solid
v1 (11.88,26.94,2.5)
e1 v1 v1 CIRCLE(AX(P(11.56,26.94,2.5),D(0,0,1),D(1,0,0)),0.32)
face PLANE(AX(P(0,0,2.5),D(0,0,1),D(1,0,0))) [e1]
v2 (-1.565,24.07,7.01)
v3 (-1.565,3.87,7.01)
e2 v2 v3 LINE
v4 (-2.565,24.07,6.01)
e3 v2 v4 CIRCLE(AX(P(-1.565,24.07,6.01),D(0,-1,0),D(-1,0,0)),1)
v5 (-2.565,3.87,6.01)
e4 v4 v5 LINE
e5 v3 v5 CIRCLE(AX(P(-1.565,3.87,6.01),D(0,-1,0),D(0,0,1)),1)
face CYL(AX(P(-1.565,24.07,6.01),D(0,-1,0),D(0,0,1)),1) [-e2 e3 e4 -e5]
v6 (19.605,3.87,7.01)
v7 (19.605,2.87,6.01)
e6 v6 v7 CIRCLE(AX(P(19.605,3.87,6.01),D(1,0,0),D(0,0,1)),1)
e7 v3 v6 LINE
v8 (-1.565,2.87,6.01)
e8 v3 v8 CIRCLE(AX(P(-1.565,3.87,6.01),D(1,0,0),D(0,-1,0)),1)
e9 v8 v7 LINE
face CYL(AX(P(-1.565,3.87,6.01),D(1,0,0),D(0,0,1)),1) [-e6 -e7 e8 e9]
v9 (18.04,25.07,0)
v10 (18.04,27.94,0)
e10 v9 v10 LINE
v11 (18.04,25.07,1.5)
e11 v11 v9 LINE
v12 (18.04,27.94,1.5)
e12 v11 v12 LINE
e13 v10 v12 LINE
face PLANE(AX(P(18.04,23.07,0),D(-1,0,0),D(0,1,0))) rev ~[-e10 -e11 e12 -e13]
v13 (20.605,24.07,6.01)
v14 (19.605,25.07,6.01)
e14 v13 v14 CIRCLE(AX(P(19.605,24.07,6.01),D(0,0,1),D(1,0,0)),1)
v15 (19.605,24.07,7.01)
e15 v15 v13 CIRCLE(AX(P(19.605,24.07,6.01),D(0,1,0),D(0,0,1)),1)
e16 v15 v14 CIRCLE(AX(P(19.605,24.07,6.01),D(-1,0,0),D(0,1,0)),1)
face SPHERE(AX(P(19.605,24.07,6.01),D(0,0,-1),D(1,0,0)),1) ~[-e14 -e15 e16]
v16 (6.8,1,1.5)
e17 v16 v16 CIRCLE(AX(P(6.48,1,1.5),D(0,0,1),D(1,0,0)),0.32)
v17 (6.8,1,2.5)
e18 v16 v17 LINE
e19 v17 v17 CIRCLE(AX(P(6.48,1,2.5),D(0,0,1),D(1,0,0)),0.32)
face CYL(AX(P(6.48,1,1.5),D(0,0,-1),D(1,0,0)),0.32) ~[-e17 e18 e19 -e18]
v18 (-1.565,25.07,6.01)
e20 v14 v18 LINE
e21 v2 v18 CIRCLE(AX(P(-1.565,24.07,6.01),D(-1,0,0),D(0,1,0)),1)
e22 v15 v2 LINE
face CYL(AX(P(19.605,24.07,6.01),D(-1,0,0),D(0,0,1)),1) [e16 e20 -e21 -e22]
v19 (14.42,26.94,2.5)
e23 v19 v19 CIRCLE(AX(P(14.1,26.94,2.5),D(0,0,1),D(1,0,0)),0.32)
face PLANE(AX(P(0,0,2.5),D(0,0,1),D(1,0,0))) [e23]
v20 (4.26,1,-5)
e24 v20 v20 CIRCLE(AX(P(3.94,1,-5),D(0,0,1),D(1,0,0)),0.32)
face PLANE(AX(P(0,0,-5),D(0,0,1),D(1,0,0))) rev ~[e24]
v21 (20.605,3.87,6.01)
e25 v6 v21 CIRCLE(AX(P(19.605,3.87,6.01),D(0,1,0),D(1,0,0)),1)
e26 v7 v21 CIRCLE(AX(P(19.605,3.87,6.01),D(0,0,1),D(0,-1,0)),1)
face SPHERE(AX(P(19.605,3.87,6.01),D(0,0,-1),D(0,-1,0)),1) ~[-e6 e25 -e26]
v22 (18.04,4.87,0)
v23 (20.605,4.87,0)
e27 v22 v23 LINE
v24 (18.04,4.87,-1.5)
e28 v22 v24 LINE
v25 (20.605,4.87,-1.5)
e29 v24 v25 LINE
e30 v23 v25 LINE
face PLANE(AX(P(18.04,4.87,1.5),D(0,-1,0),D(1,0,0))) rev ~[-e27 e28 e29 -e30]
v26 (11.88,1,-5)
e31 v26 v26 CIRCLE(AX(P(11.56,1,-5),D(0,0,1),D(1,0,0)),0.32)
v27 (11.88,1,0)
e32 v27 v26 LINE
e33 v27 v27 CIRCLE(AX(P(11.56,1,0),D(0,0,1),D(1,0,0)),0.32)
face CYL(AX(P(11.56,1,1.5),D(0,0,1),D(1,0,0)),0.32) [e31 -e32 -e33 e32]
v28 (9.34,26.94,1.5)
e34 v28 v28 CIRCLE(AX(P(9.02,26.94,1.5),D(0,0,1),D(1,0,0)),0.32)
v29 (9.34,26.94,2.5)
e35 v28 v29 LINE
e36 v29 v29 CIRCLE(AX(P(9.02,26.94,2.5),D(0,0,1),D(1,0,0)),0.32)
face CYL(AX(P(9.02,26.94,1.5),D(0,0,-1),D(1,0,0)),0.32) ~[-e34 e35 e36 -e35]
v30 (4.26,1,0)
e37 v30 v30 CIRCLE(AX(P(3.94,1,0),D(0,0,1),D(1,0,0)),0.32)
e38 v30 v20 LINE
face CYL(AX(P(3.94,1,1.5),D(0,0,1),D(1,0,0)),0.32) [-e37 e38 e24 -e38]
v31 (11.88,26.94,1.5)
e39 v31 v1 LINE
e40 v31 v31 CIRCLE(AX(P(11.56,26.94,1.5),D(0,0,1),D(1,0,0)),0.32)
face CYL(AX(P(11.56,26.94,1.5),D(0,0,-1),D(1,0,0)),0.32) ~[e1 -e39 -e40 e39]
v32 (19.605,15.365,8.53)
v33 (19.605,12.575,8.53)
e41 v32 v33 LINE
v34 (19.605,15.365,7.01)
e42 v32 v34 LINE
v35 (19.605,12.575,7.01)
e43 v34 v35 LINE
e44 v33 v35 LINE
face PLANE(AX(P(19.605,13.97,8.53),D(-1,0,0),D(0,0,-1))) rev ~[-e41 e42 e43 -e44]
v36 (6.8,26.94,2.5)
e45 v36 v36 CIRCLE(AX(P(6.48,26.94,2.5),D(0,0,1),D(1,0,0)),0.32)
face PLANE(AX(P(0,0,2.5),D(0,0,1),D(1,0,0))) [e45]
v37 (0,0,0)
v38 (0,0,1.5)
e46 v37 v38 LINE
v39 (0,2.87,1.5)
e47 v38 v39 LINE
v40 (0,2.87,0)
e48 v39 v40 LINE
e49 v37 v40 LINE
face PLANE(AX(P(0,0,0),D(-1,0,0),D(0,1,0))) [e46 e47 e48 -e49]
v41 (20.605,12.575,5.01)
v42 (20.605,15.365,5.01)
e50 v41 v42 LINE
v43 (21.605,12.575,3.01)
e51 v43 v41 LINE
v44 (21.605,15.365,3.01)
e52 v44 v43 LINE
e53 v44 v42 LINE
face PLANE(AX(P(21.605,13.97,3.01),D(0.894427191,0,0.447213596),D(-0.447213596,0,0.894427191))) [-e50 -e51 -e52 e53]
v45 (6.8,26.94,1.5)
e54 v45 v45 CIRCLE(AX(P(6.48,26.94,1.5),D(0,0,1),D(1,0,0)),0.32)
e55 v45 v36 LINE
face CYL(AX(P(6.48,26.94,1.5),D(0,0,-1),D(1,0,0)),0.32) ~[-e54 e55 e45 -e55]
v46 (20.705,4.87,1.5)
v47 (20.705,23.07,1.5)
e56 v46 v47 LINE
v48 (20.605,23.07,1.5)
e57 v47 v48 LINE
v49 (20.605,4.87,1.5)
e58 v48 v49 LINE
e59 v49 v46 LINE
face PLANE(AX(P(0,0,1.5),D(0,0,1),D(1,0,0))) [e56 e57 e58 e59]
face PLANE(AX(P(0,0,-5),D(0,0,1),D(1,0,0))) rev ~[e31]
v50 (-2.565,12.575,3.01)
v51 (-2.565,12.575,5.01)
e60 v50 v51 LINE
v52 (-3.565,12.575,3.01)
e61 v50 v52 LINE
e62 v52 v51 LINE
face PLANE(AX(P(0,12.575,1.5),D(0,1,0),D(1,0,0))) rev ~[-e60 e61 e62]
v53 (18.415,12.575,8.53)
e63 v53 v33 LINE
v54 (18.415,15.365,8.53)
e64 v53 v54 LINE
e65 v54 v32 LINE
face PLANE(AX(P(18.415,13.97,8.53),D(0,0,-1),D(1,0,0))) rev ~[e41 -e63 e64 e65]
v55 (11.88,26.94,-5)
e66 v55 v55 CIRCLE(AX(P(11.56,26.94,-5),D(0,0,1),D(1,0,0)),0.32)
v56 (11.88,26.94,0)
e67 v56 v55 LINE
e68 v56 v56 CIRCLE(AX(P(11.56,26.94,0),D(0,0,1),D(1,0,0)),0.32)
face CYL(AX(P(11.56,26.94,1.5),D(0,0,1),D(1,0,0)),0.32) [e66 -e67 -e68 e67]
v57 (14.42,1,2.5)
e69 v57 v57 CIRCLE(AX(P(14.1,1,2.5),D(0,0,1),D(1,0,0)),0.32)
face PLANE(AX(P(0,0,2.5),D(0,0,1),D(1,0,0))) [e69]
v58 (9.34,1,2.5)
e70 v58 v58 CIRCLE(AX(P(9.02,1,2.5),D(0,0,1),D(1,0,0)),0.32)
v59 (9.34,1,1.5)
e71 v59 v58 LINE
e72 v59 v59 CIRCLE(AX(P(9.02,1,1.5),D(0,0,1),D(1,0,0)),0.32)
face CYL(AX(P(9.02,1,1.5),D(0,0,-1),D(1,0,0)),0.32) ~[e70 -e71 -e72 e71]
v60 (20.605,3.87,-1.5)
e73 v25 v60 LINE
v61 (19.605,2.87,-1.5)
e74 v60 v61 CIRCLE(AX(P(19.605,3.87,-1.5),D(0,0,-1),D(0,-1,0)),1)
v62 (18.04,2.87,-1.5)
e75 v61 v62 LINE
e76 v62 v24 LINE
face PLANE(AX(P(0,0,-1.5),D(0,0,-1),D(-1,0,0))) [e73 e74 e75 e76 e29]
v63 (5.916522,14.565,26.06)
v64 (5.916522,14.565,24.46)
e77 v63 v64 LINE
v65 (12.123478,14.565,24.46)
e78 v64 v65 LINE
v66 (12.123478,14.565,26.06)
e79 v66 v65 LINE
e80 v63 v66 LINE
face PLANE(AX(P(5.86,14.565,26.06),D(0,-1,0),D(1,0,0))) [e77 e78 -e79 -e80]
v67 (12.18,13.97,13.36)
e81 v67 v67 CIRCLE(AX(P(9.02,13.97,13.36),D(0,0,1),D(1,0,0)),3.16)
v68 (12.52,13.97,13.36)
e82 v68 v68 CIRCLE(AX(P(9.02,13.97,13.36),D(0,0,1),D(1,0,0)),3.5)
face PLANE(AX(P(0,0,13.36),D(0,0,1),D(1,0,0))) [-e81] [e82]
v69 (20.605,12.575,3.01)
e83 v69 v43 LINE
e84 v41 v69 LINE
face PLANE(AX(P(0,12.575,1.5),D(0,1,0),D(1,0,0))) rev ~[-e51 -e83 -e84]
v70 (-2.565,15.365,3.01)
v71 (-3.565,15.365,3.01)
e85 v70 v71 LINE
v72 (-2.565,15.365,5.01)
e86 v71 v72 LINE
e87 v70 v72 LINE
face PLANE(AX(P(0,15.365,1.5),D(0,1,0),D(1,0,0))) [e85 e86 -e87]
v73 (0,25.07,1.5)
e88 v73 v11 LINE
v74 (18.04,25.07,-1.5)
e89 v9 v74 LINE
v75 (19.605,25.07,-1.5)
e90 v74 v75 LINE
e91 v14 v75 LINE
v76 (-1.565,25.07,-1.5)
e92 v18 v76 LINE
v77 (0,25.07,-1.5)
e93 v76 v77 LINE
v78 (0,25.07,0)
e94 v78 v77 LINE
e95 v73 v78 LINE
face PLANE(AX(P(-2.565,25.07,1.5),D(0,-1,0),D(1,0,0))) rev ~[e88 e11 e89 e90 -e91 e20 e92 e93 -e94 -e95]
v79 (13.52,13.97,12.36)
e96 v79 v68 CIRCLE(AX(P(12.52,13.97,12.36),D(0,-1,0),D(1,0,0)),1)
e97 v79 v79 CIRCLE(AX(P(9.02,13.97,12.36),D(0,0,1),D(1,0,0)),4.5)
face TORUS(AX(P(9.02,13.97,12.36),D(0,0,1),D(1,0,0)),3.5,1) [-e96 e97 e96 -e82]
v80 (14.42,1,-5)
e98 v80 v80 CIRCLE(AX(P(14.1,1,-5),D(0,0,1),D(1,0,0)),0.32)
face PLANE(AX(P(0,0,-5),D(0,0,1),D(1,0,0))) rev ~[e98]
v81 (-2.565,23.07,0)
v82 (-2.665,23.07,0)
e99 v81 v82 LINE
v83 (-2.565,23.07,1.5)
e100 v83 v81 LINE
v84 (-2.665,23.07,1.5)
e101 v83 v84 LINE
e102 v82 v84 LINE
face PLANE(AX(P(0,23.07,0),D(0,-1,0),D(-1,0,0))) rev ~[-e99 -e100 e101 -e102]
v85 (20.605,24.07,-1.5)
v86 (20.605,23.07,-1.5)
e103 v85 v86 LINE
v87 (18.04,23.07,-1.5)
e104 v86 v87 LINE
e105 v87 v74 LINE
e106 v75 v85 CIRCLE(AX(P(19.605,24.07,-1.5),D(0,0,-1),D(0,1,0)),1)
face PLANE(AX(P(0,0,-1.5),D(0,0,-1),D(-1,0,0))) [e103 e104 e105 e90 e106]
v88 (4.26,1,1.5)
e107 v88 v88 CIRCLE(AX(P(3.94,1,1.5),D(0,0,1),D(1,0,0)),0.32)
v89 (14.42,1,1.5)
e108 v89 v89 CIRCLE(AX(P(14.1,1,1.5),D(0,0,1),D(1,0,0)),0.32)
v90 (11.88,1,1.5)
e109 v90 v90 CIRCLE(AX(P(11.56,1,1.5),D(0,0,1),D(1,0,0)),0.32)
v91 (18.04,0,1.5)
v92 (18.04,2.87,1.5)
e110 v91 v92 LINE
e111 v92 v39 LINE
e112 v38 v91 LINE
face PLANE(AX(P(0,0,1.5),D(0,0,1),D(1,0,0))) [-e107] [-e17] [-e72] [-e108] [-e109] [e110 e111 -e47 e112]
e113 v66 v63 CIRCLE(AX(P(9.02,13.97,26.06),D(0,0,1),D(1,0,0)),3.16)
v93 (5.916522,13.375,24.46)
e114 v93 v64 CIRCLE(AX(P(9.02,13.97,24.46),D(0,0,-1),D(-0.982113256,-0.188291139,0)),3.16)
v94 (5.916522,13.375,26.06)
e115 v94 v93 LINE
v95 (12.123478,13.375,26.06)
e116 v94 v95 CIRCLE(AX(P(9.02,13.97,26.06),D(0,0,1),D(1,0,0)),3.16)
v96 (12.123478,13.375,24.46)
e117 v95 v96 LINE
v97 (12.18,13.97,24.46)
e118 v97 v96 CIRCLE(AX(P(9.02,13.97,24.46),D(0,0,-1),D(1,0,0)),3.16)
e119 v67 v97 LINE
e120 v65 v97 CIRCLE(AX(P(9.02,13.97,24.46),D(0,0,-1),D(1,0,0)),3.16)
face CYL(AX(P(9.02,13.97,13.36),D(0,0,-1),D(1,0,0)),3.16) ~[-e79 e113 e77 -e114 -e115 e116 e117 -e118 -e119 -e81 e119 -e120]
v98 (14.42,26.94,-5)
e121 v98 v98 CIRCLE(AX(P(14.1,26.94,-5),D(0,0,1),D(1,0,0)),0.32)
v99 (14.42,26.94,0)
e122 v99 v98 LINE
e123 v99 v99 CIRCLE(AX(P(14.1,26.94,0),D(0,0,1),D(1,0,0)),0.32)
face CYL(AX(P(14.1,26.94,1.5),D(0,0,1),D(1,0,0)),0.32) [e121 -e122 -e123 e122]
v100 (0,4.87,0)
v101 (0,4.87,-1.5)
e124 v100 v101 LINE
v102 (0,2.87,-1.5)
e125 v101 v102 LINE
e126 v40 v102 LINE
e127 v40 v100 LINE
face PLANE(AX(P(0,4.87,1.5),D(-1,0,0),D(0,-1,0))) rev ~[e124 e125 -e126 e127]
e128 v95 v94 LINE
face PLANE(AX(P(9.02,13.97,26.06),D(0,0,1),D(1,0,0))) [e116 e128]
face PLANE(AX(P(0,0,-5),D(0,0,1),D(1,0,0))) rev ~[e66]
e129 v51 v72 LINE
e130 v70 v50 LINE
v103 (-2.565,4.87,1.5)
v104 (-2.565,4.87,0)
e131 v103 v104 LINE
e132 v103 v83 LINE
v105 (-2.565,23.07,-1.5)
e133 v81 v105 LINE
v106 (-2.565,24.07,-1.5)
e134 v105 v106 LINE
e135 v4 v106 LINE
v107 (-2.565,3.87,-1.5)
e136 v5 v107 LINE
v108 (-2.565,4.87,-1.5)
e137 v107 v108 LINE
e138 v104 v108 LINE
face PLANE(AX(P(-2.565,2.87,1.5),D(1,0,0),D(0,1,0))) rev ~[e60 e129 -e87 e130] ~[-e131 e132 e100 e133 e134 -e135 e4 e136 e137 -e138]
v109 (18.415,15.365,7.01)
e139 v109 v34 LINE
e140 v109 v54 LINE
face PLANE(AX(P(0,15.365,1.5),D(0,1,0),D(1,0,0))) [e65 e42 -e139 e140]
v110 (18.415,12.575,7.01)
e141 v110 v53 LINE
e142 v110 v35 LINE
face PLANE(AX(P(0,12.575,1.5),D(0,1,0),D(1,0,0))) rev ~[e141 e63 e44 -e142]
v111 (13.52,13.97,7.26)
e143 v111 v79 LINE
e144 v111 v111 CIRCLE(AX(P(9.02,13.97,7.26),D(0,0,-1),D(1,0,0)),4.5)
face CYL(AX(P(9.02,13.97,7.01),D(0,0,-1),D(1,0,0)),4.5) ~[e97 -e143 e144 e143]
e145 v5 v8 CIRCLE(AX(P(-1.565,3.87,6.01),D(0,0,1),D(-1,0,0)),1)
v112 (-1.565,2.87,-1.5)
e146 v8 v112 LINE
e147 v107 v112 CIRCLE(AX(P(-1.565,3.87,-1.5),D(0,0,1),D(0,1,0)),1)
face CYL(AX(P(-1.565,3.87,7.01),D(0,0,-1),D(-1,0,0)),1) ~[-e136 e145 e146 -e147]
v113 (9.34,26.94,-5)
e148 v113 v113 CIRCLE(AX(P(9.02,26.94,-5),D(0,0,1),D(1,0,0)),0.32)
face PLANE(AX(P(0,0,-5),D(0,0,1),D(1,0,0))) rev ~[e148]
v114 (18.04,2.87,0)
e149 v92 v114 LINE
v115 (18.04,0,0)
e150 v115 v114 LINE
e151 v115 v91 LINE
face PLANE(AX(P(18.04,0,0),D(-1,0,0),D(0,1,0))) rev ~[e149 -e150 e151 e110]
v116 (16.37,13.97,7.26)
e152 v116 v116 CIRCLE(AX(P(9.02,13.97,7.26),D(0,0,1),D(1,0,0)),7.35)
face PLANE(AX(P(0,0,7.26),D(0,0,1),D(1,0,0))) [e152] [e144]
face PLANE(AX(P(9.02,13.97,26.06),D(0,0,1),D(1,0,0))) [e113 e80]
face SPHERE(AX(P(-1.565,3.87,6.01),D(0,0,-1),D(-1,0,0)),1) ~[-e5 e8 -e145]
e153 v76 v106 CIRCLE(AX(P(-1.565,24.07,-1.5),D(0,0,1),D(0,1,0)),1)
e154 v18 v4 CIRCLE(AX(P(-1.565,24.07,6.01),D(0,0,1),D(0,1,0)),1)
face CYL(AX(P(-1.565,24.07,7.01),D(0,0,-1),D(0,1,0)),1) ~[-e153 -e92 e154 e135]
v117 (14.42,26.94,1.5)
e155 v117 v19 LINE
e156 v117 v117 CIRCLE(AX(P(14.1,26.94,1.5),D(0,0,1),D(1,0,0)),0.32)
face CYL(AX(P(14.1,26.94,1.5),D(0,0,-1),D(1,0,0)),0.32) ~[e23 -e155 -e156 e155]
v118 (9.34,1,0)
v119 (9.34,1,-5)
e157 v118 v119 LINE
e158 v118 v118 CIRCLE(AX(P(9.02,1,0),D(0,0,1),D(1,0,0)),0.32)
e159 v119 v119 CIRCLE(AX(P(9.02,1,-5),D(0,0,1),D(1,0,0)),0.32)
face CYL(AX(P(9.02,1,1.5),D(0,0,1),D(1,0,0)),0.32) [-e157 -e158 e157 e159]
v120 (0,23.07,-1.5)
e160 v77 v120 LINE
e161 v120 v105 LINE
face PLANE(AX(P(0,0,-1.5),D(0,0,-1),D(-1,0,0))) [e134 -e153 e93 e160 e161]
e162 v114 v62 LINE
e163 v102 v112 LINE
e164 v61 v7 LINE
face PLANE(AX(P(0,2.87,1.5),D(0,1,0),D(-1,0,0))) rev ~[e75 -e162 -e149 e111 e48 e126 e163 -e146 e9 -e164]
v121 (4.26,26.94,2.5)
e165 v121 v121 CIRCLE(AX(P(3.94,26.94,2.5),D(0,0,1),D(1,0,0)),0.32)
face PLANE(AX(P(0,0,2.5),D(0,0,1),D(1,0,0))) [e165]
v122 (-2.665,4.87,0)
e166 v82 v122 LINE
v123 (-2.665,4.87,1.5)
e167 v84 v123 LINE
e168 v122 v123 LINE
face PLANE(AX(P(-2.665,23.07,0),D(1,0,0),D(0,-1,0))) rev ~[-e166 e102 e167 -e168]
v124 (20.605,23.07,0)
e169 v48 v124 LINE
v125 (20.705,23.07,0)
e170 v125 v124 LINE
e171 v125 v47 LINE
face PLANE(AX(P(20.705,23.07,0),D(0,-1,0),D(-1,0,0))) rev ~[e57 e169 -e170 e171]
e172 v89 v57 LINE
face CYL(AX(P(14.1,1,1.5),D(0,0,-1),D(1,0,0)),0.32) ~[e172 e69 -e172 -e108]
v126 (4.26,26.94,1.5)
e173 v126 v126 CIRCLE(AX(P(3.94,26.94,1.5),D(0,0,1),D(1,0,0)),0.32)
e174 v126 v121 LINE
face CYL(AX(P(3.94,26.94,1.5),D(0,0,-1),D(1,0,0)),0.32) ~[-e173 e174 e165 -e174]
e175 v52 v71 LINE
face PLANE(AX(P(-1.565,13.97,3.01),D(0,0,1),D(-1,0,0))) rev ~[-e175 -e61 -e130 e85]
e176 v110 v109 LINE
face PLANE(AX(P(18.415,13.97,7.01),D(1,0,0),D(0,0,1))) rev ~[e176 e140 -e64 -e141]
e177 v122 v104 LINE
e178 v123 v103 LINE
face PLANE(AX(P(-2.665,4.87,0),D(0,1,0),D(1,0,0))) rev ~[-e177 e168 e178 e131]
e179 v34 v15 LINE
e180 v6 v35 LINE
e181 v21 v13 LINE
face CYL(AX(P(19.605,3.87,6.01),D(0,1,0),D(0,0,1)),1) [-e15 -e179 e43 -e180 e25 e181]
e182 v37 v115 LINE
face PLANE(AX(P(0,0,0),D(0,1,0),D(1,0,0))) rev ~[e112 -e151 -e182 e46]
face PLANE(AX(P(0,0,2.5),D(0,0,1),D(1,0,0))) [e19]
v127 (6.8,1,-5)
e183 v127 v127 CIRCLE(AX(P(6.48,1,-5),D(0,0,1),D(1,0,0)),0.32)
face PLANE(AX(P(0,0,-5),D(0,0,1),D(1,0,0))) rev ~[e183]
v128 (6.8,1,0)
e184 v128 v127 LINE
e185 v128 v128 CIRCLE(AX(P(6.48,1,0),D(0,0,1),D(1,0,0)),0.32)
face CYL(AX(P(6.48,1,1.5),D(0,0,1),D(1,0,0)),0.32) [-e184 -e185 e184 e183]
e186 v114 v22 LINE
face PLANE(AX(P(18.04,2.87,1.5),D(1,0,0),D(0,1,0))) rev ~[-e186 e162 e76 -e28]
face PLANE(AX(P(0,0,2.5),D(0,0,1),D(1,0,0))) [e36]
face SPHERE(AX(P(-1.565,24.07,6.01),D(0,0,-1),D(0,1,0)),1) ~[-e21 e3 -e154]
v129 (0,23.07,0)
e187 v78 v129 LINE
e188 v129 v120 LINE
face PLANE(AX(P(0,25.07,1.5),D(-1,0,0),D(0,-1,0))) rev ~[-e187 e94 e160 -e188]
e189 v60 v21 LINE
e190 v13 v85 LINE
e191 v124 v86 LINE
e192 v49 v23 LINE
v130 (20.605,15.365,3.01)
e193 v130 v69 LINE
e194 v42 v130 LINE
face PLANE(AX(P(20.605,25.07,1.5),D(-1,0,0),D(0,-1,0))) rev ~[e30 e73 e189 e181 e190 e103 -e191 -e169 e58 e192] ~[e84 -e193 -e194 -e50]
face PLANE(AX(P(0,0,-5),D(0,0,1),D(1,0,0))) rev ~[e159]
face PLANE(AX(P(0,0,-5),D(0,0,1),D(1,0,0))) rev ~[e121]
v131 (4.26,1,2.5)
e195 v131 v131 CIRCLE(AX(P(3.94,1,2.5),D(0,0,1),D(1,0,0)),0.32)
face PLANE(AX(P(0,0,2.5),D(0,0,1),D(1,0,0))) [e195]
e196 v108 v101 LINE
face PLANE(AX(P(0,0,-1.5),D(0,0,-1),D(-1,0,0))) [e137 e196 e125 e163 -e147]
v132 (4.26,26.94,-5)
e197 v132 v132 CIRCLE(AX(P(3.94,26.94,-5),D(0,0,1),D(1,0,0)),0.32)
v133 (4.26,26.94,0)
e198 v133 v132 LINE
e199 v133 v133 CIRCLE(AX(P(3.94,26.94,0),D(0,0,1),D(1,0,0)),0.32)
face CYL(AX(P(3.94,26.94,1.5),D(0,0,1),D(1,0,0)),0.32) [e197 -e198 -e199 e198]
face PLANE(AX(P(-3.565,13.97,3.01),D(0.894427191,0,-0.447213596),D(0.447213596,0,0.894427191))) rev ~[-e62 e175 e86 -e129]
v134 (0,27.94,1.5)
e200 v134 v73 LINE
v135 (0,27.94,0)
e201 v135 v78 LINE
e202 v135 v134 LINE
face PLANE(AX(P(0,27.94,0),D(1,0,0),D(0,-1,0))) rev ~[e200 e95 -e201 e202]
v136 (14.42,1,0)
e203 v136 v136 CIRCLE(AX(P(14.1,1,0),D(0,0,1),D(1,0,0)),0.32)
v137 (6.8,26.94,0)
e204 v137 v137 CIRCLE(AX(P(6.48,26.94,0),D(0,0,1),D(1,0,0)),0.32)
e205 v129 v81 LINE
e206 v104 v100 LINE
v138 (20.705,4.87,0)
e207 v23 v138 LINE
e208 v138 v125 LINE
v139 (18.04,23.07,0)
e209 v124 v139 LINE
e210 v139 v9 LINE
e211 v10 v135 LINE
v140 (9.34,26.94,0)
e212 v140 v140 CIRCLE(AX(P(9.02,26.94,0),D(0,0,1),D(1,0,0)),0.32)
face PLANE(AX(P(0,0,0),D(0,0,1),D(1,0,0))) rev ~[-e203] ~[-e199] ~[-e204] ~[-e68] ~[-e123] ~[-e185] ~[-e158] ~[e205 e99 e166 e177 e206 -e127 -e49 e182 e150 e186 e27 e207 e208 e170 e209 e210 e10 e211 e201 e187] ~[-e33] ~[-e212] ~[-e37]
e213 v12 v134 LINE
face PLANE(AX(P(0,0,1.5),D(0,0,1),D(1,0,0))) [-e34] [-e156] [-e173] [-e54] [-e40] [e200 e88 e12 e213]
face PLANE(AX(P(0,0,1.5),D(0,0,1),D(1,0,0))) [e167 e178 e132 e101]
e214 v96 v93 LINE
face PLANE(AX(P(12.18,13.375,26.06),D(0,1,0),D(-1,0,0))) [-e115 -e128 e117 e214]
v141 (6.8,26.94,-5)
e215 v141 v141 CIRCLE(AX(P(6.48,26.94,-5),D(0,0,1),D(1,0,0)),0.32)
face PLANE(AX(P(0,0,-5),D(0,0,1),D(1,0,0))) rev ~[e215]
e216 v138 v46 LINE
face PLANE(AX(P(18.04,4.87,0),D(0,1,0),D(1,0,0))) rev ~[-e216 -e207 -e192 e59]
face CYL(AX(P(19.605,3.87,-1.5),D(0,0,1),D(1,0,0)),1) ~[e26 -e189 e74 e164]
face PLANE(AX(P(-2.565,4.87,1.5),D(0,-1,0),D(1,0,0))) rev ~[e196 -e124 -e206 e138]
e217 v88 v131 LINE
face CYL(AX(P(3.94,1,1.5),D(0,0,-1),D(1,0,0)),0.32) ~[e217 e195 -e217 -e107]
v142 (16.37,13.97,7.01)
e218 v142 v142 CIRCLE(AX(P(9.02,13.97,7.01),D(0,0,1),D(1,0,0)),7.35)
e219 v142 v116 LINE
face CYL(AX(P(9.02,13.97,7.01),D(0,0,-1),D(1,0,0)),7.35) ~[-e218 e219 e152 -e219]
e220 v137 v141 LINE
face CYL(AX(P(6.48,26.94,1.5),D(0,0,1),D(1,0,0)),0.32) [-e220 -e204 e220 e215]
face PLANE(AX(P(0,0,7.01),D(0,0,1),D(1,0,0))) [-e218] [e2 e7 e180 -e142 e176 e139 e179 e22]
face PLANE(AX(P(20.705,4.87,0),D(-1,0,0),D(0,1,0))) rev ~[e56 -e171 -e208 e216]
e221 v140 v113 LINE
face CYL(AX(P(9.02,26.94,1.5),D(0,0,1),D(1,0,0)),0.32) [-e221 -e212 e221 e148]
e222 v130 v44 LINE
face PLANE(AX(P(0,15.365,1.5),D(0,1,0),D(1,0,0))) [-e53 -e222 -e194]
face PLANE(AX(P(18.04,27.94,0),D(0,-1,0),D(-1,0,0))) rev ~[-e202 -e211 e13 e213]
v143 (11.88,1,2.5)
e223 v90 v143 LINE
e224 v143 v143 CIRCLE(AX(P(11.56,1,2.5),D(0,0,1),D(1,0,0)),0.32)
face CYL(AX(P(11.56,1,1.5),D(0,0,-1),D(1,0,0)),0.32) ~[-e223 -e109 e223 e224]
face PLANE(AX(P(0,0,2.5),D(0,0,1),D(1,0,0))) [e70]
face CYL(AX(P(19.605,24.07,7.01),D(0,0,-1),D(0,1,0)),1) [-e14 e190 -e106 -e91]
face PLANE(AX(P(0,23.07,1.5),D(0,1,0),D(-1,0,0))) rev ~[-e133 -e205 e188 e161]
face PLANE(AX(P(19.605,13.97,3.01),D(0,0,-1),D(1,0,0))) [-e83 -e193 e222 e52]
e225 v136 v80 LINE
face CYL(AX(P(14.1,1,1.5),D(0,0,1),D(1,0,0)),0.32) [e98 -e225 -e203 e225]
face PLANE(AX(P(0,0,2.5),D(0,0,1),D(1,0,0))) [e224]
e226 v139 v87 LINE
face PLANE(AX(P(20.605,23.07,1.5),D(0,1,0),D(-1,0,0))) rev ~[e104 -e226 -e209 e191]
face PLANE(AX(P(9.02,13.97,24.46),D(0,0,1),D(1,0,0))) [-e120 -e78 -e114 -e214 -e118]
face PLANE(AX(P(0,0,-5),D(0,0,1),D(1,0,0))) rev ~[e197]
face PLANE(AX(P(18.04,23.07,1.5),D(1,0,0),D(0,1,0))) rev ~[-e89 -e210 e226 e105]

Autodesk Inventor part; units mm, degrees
ref_plane "YZ Plane" through (0, 0, 0) normal (1, 0, 0) x (0, 1, 0)
ref_plane "XZ Plane" through (0, 0, 0) normal (0, 1, 0) x (-1, 0, 0)
sketch "Sketch1" plane through (0, 0, 0) normal (0, 0, 1) x (1, 0, 0)
  line L0 (0, 0) -> (18.04, 0)
  line L1 (18.04, 0) -> (18.04, 27.94) construction
  line L2 (18.04, 27.94) -> (0, 27.94)
  line L3 (0, 27.94) -> (0, 0) construction
  circle A0 centre (9.02, 26.94) radius 0.32
  circle A1 centre (6.48, 26.94) radius 0.32
  circle A2 centre (3.94, 26.94) radius 0.32
  circle A3 centre (11.56, 26.94) radius 0.32
  circle A4 centre (14.1, 26.94) radius 0.32
  circle A5 centre (9.02, 1) radius 0.32
  circle A6 centre (6.48, 1) radius 0.32
  circle A7 centre (3.94, 1) radius 0.32
  circle A8 centre (11.56, 1) radius 0.32
  circle A9 centre (14.1, 1) radius 0.32
  line L4 (-2.665, 23.07) -> (20.705, 23.07) construction
  line L5 (20.705, 23.07) -> (20.705, 4.87) construction
  line L6 (20.705, 4.87) -> (-2.665, 4.87) construction
  line L7 (-2.665, 4.87) -> (-2.665, 23.07) construction
  line L8 (0, 27.94) -> (0, 23.07)
  line L9 (0, 23.07) -> (-2.665, 23.07)
  line L10 (-2.665, 23.07) -> (-2.665, 4.87)
  line L11 (-2.665, 4.87) -> (0, 4.87)
  line L12 (0, 0) -> (0, 4.87)
  line L13 (18.04, 0) -> (18.04, 4.87)
  line L14 (18.04, 4.87) -> (20.705, 4.87)
  line L15 (20.705, 4.87) -> (20.705, 23.07)
  line L16 (20.705, 23.07) -> (18.04, 23.07)
  line L17 (18.04, 23.07) -> (18.04, 27.94)
  point P0 (9.02, 27.94)
  point P1 (9.02, 23.07)
  point P2 (18.04, 13.97)
  point P3 (20.705, 13.97)
  dimension "d0" = 18.04
  dimension "d1" = 27.94
  dimension "d2" = 0.64
  dimension "d3" = 0.64
  dimension "d4" = 2.54
  dimension "d5" = 0.64
  dimension "d6" = 0.64
  dimension "d7" = 0.64
  dimension "d8" = 2.54
  dimension "d9" = 2.54
  dimension "d10" = 2.54
  dimension "d11" = 1
  dimension "d12" = 0.64
  dimension "d13" = 0.64
  dimension "d14" = 2.54
  dimension "d15" = 0.64
  dimension "d16" = 0.64
  dimension "d17" = 0.64
  dimension "d18" = 2.54
  dimension "d19" = 2.54
  dimension "d20" = 2.54
  dimension "d21" = 1
  dimension "d24" = 23.37
  dimension "d25" = 18.2
extrude "Extrusion1" add sketch "Sketch1" along normal blind 1.5
sketch "Sketch2" plane through (0, 0, 1.5) normal (0, 0, 1) x (1, 0, 0)
  line L0 (-2.565, 25.07) -> (20.605, 25.07)
  line L1 (20.605, 25.07) -> (20.605, 2.87)
  line L2 (20.605, 2.87) -> (-2.565, 2.87)
  line L3 (-2.565, 2.87) -> (-2.565, 25.07)
  line L4 (-2.665, 23.07) -> (-2.665, 4.87) projected
  line L5 (20.705, 4.87) -> (20.705, 23.07) projected
  line L6 (18.04, 27.94) -> (0, 27.94) projected
  point P0 (0, 0)
  point P1 (9.02, 25.07)
  point P2 (9.02, 27.94)
  dimension "d27" = 22.2
  dimension "d30" = 0.1
extrude "Extrusion2" add sketch "Sketch2" along normal blind 5.51
sketch "Sketch3" plane through (0, 0, 1.5) normal (0, 0, -1) x (-1, 0, 0)
  line L0 (0, 23.07) -> (2.565, 23.07) projected
  line L1 (2.565, 23.07) -> (2.565, 25.07) projected
  line L2 (2.565, 25.07) -> (0, 25.07) projected
  line L3 (0, 25.07) -> (0, 23.07) projected
  line L4 (0, 4.87) -> (0, 2.87) projected
  line L5 (0, 2.87) -> (2.565, 2.87) projected
  line L6 (2.565, 2.87) -> (2.565, 4.87) projected
  line L7 (2.565, 4.87) -> (0, 4.87) projected
  line L8 (-20.605, 23.07) -> (-18.04, 23.07) projected
  line L9 (-18.04, 23.07) -> (-18.04, 25.07) projected
  line L10 (-18.04, 25.07) -> (-20.605, 25.07) projected
  line L11 (-20.605, 25.07) -> (-20.605, 23.07) projected
  line L12 (-18.04, 2.87) -> (-18.04, 4.87) projected
  line L13 (-18.04, 4.87) -> (-20.605, 4.87) projected
  line L14 (-20.605, 4.87) -> (-20.605, 2.87) projected
  line L15 (-20.605, 2.87) -> (-18.04, 2.87) projected
  point P0 (0, 0)
extrude "Extrusion3" add sketch "Sketch3" along normal blind 3
sketch "Sketch4" plane through (0, 0, 7.01) normal (0, 0, 1) x (1, 0, 0)
  circle A0 centre (9.02, 13.97) radius 4.5
  line L0 (20.605, 25.07) -> (-2.565, 25.07) construction
  line L1 (-2.565, 25.07) -> (-2.565, 2.87) construction
  line L2 (-2.565, 2.87) -> (20.605, 2.87) construction
  line L3 (20.605, 2.87) -> (20.605, 25.07) construction
  point P0 (0, 0)
  point P1 (9.02, 25.07)
  point P2 (20.605, 13.97)
  dimension "d33" = 9
extrude "Extrusion4" add sketch "Sketch4" along normal blind 6.35
sketch "Sketch5" plane through (9.02, 13.97, 13.36) normal (0, 0, 1) x (1, 0, 0)
  circle A0 centre (0, 0) radius 3.16
  circle A1 centre (0, 0) radius 4.5 construction
  point P0 (-9.02, -13.97)
  dimension "d36" = 6.32
extrude "Extrusion5" add sketch "Sketch5" along normal blind 12.7
sketch "Sketch6" plane through (9.02, 13.97, 26.06) normal (0, 0, 1) x (1, 0, 0)
  line L0 (-3.16, 0.595) -> (3.16, 0.595)
  line L1 (3.16, 0.595) -> (3.16, -0.595)
  line L2 (3.16, -0.595) -> (-3.16, -0.595)
  line L3 (-3.16, -0.595) -> (-3.16, 0.595)
  circle A0 centre (0, 0) radius 3.16 construction
  point P0 (-9.02, -13.97)
  point P1 (3.16, 0)
  point P2 (0, 0.595)
  dimension "d39" = 1.19
extrude "Extrusion6" cut sketch "Sketch6" against normal blind 1.6
thread "Thread1" size "M9x1.25" class "6g" standard "ANSI Metric M Profile" full length
fillet "Fillet1" radius 1 1 edges at (4.52, 13.97, 13.36)
fillet "Fillet2" radius 1 4 edges at (20.605, 2.87, 2.755) (-2.565, 2.87, 2.755) (-2.565, 25.07, 2.755) (20.605, 25.07, 2.755)
fillet "Fillet3" radius 1 8 edges at (-2.2721, 24.7771, 7.01) (-2.565, 13.97, 7.01) (-2.2721, 3.1629, 7.01) (9.02, 2.87, 7.01) (20.3121, 3.1629, 7.01) (20.605, 13.97, 7.01) (20.3121, 24.7771, 7.01) (9.02, 25.07, 7.01)
ref_plane "Work Plane1" through (0, 13.97, 1.5) normal (0, 1, 0) x (1, 0, 0)
sketch "Sketch8" plane through (0, 13.97, 1.5) normal (0, 1, 0) x (1, 0, 0)
  line L0 (19.605, -1.51) -> (21.605, -1.51)
  line L1 (19.605, 3) -> (19.605, -4.51) construction
  line L2 (19.605, -1.51) -> (19.605, -5.51)
  line L3 (0, 1.5) -> (18.04, 1.5) construction
  line L4 (9.02, 1.5) -> (9.02, -5.51) construction
  line L5 (19.605, -5.51) -> (-1.565, -5.51) construction
  line L6 (21.605, -1.51) -> (19.605, -5.51)
  line L7 (-1.565, -1.51) -> (-3.565, -1.51)
  line L8 (-1.565, -1.51) -> (-1.565, -5.51)
  line L9 (-3.565, -1.51) -> (-1.565, -5.51)
  dimension "d47" = 2
  dimension "d48" = 4
extrude "Extrusion7" add sketch "Sketch8" along normal mid plane 2.79
sketch "Sketch9" plane through (0, 13.97, 1.5) normal (0, 1, 0) x (1, 0, 0)
  line L0 (-1.565, -5.51) -> (19.605, -5.51) projected
  line L1 (19.605, -5.51) -> (18.415, -5.51)
  line L2 (18.415, -5.51) -> (18.415, -7.03)
  line L3 (18.415, -7.03) -> (19.605, -7.03)
  line L4 (19.605, -7.03) -> (19.605, -5.51)
  point P0 (0, 1.5)
  dimension "d51" = 1.52
  dimension "d52" = 1.19
extrude "Extrusion8" add sketch "Sketch9" along normal mid plane 2.79
sketch "Sketch10" plane through (0, 0, 7.01) normal (0, 0, 1) x (1, 0, 0)
  circle A0 centre (9.02, 13.97) radius 4.5 projected
  circle A1 centre (9.02, 13.97) radius 7.35
  point P0 (0, 0)
  dimension "d55" = 14.7
extrude "Extrusion9" add sketch "Sketch10" along normal blind 0.25 contours A0 | A1
sketch "Sketch11" plane through (0, 0, 1.5) normal (0, 0, 1) x (1, 0, 0)
  circle A0 centre (9.02, 1) radius 0.32 projected
  circle A1 centre (6.48, 1) radius 0.32 projected
  circle A2 centre (3.94, 1) radius 0.32 projected
  circle A3 centre (11.56, 1) radius 0.32 projected
  circle A4 centre (14.1, 1) radius 0.32 projected
  line L0 (18.04, 2.87) -> (0, 2.87) projected
  line L1 (0, 2.87) -> (0, 0) construction
  line L2 (0, 0) -> (18.04, 0) construction
  line L3 (18.04, 0) -> (18.04, 2.87) construction
  circle A5 centre (9.02, 26.94) radius 0.32 projected
  circle A6 centre (6.48, 26.94) radius 0.32 projected
  circle A7 centre (3.94, 26.94) radius 0.32 projected
  circle A8 centre (11.56, 26.94) radius 0.32 projected
  circle A9 centre (14.1, 26.94) radius 0.32 projected
  line L4 (0, 25.07) -> (18.04, 25.07) construction
  line L5 (18.04, 25.07) -> (18.04, 27.94) construction
  line L6 (18.04, 27.94) -> (0, 27.94) construction
  line L7 (0, 27.94) -> (0, 25.07) construction
extrude "Extrusion10" add sketch "Sketch11" along normal blind 1 and the other way blind 6.5
equation "\"d2\" = d5"
equation "\"d3\" = d5"
equation "\"d6\" = d5"
equation "\"d7\" = d5"
equation "\"d12\" = d5"
equation "\"d13\" = d5"
equation "\"d15\" = d5"
equation "\"d16\" = d5"
equation "\"d17\" = d5"
equation "\"d21\" = d11"
properties part number "Bourns ACE 128" material "ABS Plastic"
